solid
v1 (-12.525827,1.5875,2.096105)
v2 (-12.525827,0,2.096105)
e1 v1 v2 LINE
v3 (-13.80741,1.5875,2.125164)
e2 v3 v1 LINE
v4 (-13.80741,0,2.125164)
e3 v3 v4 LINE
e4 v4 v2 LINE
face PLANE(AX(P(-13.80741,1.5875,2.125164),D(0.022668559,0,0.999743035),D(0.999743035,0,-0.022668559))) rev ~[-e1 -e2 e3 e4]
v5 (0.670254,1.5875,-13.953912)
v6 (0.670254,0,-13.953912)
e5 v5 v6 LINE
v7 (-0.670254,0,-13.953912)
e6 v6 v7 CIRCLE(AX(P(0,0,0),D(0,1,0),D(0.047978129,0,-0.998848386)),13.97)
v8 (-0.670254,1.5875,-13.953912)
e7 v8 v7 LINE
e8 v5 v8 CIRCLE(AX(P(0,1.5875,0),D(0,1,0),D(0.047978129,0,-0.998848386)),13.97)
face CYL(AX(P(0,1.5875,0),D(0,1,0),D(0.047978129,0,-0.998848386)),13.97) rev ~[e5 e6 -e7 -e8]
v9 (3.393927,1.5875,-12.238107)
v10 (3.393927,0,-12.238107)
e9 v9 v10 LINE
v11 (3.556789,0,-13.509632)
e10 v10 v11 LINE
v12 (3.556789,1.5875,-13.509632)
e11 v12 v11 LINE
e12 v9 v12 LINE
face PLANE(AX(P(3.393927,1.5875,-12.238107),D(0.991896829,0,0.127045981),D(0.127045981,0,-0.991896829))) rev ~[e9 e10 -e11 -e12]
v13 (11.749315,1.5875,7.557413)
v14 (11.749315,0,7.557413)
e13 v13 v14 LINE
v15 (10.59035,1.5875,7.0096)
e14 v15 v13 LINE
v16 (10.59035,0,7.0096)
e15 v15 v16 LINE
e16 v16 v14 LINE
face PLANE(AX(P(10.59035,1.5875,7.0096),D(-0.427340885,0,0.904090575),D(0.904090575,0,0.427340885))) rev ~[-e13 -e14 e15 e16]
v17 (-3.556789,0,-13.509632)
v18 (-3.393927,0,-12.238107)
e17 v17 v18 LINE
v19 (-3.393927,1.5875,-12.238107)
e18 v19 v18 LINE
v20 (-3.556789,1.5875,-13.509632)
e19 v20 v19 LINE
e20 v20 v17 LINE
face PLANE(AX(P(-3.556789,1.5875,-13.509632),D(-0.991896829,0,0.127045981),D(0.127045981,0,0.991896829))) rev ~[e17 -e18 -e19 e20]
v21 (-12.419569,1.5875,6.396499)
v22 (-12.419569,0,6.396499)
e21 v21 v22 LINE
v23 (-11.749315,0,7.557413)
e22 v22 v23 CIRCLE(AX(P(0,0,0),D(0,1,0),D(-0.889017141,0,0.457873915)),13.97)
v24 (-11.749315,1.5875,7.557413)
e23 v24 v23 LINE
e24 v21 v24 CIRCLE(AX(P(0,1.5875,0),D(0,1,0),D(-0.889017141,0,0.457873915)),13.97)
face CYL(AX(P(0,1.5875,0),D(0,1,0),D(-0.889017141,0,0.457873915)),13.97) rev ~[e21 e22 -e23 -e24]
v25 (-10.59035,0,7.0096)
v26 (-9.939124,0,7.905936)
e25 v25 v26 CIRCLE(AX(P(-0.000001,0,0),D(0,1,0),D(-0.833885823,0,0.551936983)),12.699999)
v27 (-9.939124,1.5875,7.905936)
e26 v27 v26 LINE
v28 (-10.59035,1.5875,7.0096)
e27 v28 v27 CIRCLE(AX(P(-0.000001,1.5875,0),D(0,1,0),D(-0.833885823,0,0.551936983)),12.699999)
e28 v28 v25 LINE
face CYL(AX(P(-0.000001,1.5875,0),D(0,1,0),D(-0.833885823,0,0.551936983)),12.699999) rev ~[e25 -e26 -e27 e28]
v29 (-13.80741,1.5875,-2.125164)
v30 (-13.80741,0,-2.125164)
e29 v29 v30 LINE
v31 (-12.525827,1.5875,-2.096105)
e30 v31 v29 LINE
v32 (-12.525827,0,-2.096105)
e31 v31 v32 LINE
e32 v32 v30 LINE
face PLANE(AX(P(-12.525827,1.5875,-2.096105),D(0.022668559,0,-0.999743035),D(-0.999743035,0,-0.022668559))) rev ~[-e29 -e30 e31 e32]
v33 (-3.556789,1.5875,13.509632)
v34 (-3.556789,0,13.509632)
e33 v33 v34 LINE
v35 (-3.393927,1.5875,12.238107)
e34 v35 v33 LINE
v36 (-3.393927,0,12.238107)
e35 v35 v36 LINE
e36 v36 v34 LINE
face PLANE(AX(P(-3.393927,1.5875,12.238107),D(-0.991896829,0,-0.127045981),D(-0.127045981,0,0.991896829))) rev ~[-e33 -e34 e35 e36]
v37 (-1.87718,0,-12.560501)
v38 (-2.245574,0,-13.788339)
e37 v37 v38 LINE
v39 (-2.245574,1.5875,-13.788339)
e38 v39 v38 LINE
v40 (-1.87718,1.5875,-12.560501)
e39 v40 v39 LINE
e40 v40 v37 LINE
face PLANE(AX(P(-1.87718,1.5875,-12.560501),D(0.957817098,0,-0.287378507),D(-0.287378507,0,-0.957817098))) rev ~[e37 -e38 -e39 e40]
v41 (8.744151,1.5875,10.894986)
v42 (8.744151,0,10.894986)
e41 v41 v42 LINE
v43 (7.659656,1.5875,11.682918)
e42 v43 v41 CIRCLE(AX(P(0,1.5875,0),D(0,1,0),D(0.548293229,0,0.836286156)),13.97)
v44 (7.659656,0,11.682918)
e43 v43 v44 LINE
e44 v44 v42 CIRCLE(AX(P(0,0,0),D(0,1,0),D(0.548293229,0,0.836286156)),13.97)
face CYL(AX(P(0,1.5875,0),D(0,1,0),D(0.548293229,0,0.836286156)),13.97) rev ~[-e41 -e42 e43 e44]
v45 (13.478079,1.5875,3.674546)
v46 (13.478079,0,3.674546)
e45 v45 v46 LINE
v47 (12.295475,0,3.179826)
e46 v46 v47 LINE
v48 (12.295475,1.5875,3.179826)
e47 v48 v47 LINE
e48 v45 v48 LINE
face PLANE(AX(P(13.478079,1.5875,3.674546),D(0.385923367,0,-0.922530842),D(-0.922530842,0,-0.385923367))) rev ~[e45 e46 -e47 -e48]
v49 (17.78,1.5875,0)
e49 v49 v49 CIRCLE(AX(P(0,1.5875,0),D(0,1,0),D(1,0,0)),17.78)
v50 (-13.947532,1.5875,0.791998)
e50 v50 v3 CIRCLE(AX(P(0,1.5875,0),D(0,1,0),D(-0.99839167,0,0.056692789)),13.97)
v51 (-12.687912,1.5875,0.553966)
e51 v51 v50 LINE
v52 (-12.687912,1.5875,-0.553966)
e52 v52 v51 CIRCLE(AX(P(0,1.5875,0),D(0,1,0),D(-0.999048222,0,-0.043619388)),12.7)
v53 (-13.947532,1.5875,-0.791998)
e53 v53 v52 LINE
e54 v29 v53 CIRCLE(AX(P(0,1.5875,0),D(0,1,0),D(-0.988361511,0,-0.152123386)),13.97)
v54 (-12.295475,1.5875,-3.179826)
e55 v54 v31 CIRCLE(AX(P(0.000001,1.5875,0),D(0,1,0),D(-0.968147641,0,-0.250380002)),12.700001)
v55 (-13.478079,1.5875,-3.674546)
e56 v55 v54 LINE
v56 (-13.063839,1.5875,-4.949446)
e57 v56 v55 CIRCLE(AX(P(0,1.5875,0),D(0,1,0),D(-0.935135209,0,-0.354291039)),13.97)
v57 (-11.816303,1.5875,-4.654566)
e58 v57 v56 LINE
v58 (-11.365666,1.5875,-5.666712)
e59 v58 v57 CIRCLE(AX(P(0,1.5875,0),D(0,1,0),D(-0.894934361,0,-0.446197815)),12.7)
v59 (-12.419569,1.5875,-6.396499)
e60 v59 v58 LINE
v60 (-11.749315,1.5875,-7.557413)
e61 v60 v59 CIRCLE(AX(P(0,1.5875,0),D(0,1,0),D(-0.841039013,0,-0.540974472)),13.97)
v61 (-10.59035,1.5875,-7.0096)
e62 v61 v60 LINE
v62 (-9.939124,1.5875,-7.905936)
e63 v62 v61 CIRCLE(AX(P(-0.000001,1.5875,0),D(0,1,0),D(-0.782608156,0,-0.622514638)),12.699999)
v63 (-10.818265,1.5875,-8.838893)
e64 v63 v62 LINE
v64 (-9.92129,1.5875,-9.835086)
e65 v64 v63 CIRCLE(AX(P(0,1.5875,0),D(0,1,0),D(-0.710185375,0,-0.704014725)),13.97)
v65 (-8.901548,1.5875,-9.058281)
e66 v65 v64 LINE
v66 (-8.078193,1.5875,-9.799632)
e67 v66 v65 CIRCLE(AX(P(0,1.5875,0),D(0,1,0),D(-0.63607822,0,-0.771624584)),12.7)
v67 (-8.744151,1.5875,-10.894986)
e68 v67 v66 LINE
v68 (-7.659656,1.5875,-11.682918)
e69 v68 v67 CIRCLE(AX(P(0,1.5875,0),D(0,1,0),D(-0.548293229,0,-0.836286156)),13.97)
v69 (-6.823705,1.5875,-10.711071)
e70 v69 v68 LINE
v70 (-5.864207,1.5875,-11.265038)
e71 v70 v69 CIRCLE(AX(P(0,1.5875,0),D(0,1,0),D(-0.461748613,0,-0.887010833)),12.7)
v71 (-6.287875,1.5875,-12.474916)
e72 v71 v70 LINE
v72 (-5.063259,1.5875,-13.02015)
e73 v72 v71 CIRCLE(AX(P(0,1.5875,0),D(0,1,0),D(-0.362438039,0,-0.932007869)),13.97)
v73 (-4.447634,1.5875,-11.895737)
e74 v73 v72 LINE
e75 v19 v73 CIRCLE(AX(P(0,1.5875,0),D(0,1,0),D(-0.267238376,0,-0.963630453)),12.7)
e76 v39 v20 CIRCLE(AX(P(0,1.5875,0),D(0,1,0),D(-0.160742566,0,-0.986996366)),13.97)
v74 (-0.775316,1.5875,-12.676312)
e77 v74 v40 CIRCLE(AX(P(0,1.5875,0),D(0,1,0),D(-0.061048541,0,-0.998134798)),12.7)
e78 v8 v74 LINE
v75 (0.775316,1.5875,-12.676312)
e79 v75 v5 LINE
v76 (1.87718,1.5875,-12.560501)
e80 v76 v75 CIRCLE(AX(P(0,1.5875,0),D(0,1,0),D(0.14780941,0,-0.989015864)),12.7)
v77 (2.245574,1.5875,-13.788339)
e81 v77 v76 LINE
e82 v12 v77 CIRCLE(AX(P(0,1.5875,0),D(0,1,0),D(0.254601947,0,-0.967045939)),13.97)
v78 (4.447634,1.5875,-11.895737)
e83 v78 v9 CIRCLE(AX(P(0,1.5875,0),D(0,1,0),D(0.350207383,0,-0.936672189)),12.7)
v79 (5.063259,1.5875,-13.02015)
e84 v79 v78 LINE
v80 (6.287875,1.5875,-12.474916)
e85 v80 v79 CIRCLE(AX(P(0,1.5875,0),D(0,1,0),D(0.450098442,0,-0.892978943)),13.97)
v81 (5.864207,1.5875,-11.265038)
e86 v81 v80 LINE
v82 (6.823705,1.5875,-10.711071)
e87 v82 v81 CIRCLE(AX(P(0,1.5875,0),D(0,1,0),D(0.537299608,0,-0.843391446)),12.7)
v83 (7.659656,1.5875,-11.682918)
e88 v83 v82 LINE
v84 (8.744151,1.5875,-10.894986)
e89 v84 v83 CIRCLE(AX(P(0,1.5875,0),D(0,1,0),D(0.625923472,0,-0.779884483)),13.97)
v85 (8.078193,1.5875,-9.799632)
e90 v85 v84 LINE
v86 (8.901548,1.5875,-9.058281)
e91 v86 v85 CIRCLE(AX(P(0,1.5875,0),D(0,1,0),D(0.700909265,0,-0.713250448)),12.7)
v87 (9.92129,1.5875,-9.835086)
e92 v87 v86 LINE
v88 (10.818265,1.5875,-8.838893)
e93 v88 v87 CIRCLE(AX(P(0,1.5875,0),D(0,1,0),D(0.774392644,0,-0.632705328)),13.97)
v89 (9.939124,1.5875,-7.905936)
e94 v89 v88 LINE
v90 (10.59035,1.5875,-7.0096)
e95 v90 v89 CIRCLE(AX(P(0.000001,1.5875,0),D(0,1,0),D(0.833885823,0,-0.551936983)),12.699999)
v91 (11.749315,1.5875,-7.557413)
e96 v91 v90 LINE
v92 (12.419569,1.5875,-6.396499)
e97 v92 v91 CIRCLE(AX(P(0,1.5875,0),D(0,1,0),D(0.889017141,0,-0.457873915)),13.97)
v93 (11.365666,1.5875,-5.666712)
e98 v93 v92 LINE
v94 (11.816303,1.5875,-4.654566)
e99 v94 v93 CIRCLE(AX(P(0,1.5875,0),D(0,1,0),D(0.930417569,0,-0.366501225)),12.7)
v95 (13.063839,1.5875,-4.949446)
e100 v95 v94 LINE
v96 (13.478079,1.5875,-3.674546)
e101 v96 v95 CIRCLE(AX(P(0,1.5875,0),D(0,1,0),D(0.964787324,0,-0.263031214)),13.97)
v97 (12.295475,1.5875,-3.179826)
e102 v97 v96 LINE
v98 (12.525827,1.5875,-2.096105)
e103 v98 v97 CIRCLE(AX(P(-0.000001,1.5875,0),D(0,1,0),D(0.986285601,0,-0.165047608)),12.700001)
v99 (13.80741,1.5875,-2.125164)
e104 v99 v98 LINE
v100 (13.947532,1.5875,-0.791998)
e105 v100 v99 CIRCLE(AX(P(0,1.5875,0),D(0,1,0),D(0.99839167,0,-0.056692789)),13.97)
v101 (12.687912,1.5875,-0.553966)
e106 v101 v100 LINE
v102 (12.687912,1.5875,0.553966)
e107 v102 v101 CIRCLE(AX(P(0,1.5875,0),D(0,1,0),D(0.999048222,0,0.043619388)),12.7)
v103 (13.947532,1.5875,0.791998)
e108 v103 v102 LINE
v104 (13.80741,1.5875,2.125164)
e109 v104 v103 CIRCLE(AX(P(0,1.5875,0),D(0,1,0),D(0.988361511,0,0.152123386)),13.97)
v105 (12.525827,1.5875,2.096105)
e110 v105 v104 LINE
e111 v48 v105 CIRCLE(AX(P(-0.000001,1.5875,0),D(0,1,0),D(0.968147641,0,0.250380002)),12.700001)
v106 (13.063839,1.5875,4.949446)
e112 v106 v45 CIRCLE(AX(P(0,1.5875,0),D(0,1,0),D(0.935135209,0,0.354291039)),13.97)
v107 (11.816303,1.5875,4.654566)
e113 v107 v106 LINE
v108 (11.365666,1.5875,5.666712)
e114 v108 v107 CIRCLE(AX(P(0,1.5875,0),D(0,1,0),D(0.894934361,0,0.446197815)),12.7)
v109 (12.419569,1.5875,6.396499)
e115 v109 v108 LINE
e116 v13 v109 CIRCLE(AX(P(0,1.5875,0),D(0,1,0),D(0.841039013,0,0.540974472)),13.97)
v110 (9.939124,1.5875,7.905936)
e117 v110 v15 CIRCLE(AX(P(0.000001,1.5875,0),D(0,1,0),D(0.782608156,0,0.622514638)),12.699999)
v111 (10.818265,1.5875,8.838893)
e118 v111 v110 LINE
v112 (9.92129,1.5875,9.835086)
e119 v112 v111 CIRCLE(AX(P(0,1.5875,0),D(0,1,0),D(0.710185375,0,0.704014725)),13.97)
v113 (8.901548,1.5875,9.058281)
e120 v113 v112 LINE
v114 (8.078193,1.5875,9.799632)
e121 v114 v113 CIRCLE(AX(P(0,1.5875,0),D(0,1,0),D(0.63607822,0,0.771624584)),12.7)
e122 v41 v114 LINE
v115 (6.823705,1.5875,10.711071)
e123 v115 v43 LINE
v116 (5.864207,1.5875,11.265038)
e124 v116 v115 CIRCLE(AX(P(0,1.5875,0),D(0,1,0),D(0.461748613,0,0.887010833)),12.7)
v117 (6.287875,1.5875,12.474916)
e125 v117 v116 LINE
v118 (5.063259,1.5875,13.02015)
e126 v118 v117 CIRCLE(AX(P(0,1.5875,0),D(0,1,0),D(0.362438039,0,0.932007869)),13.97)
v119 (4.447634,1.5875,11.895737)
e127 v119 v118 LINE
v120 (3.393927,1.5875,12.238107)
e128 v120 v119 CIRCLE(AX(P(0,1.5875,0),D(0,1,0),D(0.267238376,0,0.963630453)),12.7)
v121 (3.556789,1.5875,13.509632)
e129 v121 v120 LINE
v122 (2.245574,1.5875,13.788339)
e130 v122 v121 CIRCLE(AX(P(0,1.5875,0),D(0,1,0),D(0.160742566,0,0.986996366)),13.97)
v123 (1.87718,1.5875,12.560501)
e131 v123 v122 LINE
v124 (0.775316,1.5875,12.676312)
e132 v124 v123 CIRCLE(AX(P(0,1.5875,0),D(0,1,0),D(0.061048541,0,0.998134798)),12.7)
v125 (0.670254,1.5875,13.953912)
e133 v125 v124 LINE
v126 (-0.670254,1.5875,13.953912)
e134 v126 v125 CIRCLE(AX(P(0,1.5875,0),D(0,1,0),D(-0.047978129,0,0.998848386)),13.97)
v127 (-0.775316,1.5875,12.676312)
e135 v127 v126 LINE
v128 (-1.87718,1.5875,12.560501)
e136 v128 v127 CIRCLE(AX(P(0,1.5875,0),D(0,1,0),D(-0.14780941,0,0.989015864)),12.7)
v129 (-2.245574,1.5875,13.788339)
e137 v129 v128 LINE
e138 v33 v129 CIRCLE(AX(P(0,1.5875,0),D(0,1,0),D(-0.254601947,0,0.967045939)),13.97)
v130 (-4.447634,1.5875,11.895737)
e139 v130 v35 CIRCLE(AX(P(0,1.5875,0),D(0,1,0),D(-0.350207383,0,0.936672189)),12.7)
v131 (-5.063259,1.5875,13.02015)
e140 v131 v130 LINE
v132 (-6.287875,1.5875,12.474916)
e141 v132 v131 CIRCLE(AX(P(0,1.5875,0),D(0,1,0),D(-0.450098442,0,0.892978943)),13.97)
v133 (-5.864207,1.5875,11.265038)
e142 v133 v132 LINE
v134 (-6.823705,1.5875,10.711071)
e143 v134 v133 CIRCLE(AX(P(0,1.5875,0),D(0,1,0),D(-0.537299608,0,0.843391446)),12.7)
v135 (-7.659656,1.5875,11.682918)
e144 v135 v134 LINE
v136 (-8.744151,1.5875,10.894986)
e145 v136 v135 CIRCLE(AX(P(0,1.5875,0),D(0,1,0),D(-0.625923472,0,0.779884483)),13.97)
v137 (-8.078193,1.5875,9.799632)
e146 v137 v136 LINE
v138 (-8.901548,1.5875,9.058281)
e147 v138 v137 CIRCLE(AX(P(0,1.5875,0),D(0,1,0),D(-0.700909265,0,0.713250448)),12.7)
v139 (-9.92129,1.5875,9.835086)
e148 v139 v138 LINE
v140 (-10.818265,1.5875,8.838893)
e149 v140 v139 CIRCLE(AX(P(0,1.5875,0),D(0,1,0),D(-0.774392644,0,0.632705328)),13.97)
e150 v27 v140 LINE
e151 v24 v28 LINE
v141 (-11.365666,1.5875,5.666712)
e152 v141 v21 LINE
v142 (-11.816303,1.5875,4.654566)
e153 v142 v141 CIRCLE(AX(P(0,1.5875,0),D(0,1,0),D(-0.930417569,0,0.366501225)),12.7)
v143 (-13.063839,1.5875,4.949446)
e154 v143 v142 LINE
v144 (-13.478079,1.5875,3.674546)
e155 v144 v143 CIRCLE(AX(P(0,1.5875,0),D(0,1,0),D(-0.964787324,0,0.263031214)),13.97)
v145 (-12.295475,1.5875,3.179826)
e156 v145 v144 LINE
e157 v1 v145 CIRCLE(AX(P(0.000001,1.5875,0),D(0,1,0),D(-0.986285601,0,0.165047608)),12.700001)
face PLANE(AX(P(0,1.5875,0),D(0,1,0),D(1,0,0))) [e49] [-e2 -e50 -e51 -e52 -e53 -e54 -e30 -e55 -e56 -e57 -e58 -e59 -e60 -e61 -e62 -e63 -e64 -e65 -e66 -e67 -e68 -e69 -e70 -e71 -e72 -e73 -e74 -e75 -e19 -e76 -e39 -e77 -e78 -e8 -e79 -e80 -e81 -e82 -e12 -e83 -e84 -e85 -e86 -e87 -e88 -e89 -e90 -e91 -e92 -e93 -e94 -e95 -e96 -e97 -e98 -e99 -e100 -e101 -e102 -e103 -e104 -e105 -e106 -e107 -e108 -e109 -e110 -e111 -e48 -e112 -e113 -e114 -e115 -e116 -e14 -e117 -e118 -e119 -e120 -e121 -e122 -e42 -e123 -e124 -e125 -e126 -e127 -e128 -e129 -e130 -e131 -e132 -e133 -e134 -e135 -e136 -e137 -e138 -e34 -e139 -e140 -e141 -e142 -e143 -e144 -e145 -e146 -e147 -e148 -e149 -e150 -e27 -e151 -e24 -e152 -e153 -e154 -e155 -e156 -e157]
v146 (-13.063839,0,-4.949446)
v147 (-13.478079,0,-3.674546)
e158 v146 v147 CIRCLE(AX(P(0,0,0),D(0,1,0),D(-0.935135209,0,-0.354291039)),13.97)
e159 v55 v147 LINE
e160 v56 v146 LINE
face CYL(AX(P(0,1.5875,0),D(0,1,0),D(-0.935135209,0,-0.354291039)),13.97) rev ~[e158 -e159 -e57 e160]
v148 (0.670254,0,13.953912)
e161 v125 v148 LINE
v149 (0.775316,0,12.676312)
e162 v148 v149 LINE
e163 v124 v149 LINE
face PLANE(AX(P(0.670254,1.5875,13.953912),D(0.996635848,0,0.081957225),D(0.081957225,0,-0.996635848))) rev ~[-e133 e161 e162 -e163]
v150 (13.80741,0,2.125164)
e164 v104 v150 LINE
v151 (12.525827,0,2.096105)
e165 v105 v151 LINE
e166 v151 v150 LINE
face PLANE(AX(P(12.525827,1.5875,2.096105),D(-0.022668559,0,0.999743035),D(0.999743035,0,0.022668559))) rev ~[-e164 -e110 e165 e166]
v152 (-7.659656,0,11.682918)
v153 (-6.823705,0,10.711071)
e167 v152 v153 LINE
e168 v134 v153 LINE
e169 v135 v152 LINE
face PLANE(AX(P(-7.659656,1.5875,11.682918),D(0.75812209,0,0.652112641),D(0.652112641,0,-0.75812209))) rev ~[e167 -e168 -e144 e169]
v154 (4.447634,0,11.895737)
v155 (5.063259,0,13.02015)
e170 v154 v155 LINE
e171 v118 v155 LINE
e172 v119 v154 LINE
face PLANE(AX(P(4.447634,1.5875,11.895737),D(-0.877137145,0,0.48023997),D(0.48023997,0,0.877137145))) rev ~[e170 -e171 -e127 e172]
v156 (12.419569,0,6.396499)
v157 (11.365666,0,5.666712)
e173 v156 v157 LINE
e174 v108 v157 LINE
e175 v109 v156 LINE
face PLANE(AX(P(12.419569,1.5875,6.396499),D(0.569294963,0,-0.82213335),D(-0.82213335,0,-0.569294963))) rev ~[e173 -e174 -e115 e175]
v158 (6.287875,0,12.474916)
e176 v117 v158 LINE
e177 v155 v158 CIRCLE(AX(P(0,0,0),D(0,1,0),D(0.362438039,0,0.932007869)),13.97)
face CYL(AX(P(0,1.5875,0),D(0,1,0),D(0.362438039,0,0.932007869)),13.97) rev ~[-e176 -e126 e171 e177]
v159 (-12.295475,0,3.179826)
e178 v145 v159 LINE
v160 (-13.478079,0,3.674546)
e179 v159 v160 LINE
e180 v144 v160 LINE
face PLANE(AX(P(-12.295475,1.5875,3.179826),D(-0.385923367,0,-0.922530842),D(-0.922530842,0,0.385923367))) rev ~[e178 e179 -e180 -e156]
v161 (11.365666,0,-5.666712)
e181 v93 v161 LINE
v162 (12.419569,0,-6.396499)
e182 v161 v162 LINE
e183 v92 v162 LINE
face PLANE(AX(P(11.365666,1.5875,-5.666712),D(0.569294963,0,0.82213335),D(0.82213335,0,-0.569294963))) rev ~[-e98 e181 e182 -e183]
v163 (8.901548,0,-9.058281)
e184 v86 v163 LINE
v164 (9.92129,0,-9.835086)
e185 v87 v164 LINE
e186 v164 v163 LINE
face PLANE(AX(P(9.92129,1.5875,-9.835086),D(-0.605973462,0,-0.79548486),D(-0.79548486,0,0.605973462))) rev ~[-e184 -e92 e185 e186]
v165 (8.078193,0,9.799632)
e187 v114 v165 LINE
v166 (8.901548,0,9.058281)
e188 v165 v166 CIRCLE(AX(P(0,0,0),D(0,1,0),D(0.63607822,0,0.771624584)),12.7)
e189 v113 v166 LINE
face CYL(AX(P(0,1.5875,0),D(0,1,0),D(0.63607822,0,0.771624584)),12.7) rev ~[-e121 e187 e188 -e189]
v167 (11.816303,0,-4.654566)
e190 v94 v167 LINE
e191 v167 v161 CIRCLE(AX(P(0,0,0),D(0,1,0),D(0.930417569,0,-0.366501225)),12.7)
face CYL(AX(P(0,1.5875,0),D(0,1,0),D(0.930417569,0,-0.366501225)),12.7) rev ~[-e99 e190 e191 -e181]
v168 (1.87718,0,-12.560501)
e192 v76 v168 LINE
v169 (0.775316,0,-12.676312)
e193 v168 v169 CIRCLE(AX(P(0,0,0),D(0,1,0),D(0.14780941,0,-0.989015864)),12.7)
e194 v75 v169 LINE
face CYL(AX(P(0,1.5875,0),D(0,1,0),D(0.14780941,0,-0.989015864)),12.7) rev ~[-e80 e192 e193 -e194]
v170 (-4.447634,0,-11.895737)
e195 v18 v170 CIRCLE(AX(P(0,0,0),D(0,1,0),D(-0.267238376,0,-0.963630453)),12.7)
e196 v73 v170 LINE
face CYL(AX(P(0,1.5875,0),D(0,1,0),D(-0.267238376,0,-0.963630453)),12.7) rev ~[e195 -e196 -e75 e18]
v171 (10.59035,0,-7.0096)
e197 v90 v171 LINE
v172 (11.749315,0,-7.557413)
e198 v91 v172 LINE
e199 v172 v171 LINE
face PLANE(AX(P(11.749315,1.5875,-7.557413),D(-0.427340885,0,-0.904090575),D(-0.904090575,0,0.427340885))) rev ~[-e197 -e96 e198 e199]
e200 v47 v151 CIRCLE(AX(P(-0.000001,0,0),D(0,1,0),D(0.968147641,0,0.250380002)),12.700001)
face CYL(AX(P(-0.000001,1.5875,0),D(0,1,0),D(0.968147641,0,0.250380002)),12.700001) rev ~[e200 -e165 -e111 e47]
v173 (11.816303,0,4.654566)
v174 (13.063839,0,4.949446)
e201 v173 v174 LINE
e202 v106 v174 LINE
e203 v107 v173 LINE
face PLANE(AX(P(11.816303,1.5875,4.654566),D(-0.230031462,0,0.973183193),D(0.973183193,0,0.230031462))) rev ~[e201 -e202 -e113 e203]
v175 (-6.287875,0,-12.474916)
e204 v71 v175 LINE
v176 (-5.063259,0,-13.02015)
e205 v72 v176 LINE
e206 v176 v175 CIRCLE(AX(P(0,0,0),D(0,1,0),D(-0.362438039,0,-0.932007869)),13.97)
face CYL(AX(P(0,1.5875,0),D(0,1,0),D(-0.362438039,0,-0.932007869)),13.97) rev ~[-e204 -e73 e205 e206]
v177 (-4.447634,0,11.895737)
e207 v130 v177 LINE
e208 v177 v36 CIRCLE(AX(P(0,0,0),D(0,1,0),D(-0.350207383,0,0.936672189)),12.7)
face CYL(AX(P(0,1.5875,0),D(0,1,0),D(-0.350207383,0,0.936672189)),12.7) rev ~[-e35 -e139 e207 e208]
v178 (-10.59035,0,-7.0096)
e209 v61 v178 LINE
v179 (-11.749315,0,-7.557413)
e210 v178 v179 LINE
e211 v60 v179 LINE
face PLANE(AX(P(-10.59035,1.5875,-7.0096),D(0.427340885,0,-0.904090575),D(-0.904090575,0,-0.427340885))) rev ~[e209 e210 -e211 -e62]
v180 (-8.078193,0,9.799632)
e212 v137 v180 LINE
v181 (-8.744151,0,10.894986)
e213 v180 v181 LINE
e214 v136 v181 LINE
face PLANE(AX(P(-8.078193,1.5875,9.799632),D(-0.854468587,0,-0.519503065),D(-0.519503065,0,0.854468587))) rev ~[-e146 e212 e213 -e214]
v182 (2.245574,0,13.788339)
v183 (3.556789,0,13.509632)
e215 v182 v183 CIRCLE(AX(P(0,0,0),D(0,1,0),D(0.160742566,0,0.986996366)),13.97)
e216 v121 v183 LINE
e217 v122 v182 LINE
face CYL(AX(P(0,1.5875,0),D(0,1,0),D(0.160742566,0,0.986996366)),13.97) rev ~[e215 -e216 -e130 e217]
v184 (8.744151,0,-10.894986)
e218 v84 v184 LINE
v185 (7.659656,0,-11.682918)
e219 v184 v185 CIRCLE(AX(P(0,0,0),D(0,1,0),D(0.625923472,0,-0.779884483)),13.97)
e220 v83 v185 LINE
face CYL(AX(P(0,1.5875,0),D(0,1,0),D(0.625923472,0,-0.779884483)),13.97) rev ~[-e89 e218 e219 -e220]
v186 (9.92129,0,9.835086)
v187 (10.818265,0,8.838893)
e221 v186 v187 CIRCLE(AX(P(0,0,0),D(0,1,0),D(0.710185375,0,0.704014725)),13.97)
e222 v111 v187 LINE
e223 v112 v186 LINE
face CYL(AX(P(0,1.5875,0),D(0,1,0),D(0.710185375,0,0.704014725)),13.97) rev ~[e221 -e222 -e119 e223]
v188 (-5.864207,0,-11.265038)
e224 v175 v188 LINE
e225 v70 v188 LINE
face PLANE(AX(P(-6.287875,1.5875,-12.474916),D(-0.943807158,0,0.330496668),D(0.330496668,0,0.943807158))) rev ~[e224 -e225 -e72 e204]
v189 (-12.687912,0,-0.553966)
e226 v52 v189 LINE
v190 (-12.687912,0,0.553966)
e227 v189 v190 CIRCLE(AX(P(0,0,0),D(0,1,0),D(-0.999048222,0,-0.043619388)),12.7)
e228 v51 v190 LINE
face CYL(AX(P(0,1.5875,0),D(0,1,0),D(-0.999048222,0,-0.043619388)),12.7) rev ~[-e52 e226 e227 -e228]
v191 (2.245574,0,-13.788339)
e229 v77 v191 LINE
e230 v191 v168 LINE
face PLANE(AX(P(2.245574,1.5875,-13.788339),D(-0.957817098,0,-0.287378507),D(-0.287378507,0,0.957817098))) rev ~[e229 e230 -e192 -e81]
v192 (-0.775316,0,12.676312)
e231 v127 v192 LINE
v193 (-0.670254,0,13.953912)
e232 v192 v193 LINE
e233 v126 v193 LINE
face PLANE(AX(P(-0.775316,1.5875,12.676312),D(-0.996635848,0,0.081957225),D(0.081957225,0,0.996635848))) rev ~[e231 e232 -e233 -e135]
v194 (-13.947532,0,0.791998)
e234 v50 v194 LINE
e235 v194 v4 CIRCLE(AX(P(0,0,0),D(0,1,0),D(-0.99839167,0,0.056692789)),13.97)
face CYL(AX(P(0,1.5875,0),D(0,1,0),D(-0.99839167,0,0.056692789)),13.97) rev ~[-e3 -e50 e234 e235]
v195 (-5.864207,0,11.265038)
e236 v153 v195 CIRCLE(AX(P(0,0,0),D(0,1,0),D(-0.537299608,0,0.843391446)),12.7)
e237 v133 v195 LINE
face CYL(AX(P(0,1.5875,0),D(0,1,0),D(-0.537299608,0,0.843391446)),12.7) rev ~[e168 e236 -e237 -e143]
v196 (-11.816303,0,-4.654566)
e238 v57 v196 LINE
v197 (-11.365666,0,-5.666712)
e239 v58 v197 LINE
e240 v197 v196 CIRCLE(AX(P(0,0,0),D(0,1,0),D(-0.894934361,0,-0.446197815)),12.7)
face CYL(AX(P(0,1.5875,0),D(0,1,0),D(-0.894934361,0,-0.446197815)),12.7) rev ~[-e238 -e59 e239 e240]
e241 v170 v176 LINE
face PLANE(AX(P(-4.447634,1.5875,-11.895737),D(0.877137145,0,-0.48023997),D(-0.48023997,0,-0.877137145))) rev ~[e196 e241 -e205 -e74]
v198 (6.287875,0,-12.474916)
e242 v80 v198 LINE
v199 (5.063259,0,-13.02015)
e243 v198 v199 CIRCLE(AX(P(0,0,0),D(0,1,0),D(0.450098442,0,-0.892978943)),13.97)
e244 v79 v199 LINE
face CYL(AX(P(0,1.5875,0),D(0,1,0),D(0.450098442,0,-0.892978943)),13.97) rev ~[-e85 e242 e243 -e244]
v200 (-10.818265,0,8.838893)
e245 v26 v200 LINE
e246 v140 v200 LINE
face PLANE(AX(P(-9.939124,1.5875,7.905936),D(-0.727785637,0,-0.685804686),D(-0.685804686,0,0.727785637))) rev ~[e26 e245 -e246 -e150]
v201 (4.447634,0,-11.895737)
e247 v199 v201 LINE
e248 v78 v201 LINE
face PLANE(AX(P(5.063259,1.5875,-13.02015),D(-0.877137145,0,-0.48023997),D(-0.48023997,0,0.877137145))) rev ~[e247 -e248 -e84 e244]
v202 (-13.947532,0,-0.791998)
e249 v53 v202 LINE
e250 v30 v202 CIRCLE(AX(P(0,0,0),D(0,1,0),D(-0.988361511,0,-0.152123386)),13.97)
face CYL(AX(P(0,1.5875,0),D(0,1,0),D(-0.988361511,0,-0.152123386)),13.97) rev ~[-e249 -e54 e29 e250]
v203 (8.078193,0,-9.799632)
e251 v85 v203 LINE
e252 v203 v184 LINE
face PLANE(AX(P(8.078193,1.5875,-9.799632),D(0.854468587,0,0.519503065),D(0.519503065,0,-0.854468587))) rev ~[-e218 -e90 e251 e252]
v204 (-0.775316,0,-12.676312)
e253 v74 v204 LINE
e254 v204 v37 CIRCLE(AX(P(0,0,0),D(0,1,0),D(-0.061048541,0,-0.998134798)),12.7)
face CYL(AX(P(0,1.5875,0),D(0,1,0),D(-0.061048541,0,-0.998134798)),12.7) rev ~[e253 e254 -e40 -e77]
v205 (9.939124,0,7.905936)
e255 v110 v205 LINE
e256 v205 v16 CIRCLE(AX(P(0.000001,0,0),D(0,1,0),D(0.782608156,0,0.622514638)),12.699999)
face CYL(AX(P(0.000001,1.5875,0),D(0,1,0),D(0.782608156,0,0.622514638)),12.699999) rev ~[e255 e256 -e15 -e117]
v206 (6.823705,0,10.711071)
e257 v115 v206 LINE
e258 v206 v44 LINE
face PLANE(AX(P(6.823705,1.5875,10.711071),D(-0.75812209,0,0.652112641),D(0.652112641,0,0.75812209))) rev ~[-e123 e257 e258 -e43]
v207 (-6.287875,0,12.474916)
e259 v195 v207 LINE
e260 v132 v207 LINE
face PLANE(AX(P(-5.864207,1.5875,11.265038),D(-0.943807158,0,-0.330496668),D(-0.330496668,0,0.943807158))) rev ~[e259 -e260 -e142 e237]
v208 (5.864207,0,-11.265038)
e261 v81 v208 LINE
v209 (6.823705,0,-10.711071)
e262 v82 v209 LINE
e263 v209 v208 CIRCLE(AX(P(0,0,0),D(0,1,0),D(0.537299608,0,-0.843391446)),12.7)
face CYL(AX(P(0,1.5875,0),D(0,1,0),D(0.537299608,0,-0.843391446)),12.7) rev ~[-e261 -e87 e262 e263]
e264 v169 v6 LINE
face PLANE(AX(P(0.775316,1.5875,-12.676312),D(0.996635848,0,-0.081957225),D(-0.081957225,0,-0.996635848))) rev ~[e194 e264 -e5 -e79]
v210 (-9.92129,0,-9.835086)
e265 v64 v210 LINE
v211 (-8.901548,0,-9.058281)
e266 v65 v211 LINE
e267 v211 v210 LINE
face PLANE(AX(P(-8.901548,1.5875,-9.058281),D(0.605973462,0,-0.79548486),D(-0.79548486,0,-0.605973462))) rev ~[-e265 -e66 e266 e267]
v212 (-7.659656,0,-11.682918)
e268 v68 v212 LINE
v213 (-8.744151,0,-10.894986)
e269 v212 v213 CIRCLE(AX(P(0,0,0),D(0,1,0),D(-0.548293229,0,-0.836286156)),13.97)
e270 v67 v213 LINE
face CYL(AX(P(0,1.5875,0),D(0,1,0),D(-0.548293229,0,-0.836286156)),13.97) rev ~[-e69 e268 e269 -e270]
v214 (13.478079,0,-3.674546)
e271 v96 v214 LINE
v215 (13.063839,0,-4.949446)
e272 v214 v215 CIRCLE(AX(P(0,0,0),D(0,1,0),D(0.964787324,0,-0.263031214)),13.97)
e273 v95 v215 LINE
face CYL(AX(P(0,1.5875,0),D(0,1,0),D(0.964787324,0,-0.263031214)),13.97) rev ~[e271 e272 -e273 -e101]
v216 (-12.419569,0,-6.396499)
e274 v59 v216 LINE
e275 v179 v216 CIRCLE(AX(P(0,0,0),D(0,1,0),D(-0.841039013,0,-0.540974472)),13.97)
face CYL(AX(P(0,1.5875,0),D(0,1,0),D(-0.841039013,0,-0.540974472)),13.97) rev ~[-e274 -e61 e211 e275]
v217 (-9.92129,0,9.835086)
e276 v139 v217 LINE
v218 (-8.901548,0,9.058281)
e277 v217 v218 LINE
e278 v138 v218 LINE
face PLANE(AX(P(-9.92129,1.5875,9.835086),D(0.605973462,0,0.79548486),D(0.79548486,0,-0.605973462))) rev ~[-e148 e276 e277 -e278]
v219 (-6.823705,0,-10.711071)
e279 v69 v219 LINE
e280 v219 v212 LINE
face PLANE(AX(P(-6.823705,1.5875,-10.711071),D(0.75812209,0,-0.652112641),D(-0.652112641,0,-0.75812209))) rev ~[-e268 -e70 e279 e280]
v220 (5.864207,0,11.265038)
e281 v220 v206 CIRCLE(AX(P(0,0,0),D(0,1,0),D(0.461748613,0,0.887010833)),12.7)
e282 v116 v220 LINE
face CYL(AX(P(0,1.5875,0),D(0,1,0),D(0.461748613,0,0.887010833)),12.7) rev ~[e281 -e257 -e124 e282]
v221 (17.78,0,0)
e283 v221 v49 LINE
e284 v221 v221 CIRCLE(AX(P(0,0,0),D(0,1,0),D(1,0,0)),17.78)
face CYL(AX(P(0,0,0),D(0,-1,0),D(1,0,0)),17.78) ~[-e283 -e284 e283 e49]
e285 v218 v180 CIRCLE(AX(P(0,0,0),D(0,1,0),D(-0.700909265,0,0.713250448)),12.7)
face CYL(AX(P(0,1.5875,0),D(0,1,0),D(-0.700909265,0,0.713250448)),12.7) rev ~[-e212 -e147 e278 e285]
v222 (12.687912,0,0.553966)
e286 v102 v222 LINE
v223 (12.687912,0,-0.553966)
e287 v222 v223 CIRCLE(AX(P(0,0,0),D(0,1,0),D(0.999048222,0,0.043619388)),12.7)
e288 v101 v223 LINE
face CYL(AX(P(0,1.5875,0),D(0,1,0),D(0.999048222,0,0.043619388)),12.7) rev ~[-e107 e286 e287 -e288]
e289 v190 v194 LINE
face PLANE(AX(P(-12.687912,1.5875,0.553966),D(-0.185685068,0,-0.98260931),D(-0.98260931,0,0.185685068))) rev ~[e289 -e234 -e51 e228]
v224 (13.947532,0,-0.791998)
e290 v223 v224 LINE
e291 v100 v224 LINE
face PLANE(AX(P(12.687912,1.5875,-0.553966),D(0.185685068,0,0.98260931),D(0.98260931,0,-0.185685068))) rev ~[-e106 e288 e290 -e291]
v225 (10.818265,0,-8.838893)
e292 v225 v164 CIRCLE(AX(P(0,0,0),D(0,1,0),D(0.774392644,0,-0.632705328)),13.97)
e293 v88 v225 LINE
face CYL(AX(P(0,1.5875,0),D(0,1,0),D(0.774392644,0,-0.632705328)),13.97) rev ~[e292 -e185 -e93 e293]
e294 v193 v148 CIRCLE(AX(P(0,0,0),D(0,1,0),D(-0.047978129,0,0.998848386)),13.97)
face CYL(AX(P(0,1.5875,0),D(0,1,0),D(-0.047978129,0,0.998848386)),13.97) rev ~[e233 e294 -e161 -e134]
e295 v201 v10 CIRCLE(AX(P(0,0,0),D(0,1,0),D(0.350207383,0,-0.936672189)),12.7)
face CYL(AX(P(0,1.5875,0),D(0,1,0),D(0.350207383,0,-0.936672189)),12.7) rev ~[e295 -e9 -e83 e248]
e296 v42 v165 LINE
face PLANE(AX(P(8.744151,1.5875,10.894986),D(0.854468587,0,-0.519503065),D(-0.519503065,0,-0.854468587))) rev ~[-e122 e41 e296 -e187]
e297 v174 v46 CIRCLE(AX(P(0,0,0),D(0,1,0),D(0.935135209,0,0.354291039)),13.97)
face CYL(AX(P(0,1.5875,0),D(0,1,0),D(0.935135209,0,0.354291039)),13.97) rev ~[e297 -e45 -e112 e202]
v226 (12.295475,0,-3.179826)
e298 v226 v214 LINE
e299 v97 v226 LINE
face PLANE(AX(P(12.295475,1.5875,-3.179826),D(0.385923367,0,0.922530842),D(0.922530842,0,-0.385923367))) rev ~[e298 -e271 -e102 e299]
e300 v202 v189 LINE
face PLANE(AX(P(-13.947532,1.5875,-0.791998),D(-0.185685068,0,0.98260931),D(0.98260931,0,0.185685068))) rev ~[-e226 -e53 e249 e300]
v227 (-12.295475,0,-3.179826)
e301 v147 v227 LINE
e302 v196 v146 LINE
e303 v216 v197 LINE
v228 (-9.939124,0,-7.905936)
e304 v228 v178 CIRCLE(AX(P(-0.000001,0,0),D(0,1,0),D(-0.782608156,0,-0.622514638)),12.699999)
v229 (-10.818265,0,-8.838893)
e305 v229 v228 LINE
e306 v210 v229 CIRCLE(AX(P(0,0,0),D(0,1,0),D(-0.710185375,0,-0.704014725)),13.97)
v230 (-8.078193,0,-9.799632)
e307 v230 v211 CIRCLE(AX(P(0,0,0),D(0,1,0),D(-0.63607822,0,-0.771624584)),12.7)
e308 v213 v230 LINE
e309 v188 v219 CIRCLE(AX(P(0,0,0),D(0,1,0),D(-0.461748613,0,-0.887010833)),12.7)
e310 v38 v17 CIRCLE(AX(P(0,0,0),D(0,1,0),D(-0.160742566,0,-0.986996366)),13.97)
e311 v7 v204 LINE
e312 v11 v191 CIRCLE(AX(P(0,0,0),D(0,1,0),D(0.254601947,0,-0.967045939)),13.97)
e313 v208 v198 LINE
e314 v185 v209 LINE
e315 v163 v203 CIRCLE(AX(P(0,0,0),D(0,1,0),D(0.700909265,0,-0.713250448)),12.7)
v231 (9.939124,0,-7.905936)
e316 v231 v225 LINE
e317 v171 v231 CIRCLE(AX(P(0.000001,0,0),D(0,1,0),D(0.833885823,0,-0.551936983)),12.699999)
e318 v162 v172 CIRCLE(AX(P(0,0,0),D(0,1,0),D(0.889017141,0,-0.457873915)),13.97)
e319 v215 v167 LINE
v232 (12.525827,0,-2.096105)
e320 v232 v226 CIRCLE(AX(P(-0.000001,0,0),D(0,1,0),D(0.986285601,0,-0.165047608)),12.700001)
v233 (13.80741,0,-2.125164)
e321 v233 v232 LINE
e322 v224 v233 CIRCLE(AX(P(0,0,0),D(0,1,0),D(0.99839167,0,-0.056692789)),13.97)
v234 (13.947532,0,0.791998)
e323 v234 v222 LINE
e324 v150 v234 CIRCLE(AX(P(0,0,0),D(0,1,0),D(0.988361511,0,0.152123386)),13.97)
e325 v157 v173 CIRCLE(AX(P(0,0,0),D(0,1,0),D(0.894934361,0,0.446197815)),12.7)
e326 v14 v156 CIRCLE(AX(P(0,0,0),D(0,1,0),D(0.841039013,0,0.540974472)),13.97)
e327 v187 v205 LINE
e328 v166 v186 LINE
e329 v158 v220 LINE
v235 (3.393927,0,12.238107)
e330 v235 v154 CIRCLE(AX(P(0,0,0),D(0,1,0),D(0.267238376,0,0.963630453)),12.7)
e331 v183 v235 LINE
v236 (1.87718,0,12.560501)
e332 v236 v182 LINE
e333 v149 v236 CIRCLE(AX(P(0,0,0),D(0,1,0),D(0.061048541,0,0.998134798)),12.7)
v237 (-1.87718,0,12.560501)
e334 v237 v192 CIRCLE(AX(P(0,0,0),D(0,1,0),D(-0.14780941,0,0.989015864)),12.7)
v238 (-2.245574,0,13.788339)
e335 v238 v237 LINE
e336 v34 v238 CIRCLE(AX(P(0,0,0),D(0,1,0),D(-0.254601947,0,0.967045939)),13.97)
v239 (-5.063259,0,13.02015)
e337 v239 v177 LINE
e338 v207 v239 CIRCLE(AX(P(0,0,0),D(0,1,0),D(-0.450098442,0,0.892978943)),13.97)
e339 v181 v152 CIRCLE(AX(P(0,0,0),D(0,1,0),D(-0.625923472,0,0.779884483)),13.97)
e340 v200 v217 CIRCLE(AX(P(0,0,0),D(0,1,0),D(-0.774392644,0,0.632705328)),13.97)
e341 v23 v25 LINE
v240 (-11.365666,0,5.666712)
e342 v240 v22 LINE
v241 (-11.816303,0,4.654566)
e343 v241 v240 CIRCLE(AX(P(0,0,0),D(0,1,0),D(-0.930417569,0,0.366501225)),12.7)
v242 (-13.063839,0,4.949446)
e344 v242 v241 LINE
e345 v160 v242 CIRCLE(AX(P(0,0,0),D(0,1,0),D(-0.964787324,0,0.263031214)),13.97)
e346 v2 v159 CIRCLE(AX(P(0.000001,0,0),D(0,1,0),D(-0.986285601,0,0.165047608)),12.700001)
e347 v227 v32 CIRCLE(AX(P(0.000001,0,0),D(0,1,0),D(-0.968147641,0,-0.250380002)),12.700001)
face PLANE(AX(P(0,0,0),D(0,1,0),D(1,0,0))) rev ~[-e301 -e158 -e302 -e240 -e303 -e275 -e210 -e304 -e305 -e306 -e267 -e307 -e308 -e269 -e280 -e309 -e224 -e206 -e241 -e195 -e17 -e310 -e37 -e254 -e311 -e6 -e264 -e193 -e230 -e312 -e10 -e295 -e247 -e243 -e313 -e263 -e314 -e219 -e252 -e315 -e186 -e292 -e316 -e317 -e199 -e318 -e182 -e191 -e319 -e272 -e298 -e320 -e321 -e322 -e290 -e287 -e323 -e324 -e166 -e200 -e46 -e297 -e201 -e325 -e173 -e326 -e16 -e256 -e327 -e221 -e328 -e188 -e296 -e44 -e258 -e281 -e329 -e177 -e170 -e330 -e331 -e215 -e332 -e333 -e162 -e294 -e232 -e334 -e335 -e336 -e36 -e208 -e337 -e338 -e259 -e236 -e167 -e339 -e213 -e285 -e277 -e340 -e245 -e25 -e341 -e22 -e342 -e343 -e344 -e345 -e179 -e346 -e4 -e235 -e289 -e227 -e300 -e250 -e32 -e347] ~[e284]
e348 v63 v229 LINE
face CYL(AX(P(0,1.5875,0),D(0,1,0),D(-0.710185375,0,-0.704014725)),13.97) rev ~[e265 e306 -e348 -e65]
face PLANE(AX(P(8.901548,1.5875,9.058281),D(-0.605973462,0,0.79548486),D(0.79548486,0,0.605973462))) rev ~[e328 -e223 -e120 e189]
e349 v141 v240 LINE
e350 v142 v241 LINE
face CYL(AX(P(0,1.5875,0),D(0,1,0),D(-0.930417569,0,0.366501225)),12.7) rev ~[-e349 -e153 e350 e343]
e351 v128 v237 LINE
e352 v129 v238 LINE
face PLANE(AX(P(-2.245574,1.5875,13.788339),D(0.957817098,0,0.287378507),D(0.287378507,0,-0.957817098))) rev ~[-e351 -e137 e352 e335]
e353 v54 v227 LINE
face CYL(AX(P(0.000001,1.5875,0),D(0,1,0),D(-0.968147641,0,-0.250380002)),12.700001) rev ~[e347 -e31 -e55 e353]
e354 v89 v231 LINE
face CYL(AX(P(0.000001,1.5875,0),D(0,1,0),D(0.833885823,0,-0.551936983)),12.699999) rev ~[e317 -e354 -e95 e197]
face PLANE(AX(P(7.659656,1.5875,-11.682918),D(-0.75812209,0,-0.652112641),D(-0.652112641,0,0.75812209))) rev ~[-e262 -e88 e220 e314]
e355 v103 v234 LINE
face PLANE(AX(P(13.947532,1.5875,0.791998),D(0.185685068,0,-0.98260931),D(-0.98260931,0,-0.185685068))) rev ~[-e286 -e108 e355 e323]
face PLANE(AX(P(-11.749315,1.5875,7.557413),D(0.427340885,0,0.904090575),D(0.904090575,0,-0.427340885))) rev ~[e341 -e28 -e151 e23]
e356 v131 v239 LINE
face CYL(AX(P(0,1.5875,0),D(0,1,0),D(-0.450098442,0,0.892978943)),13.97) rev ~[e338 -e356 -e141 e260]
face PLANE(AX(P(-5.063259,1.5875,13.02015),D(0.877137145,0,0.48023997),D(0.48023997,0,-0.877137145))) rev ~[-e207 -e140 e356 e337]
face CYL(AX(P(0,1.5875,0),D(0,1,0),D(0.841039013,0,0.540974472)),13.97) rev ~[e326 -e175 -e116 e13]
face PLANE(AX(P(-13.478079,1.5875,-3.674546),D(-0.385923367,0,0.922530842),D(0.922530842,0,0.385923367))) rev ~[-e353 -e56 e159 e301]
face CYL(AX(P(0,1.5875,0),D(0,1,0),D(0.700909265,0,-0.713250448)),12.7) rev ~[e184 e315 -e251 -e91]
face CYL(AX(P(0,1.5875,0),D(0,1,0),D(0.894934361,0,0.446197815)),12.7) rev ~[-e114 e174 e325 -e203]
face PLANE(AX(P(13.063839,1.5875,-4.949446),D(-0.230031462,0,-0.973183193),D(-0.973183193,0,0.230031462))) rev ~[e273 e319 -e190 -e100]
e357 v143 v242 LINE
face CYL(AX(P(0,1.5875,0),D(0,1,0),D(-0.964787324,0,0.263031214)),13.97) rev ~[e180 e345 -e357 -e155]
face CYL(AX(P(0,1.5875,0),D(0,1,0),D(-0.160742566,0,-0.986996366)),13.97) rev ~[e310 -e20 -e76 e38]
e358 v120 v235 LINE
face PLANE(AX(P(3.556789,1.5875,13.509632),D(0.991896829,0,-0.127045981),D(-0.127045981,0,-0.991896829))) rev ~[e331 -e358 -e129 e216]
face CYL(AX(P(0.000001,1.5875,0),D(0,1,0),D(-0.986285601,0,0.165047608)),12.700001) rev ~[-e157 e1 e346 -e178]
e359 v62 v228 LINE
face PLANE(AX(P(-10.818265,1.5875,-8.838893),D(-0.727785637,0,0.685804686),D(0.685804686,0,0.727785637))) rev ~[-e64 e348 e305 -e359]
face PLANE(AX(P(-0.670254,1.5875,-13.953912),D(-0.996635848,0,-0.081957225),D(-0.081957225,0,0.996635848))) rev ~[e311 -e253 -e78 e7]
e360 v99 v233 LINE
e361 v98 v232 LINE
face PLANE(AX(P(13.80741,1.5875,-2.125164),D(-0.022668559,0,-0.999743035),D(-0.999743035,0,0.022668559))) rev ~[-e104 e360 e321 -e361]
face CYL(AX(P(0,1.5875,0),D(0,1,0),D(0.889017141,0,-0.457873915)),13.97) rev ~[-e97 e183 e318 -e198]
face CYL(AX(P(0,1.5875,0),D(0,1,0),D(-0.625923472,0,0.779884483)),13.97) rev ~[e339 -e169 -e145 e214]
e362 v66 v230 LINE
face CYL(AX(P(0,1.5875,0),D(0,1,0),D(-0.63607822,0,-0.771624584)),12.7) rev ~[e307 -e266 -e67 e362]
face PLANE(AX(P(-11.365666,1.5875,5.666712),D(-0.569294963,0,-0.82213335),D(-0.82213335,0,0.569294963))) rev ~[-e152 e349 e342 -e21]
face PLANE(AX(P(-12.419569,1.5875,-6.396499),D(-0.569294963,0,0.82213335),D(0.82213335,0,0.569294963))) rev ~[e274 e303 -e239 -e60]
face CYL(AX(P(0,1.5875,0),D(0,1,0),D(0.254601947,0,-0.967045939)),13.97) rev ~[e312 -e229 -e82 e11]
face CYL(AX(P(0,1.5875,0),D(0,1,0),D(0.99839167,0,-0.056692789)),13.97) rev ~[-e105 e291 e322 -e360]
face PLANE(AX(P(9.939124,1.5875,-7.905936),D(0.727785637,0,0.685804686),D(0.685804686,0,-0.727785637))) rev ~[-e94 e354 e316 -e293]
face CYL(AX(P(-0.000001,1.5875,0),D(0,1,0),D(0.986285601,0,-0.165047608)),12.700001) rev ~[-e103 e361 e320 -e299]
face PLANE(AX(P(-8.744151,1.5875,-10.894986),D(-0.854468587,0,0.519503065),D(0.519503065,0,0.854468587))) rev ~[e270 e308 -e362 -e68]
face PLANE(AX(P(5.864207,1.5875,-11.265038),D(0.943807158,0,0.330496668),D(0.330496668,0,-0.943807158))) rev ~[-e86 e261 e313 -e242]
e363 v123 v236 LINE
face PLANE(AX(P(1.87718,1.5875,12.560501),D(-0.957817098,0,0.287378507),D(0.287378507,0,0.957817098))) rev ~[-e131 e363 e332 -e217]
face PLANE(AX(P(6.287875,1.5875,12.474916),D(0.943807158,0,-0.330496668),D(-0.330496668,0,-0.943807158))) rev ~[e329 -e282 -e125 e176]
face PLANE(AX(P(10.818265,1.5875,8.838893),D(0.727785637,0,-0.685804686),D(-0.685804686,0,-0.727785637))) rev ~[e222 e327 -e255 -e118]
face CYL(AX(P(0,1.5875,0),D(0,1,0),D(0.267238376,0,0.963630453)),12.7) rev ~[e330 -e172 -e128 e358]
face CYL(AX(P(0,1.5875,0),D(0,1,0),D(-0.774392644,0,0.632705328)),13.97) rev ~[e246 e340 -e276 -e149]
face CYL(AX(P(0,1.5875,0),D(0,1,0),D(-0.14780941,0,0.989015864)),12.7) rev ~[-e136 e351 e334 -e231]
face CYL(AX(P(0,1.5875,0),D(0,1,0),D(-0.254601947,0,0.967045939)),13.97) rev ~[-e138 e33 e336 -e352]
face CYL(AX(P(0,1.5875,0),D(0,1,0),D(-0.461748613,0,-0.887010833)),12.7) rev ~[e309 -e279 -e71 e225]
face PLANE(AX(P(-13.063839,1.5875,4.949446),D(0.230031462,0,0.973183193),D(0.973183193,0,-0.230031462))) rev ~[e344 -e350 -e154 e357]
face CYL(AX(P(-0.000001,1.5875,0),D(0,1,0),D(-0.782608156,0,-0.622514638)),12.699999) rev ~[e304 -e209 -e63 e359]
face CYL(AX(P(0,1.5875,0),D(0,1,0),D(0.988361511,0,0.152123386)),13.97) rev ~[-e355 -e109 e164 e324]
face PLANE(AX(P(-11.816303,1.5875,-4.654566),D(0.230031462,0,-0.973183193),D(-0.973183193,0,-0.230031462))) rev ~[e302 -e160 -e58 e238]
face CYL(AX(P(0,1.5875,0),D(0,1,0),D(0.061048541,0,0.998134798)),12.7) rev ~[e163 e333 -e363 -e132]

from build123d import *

# Parameters (mm, degrees)
SKETCH1_R           = 17.78
BOSS_EXTRUDE1_DEPTH = 1.5875
CUT_EXTRUDE1_DEPTH  = 2.5875


with BuildPart() as part:
    # Sketch1 → Boss-Extrude1 (new body)
    with BuildSketch(Plane(origin=(0, 0, 0), x_dir=(1, 0, 0), z_dir=(0, 1, 0))):
        Circle(SKETCH1_R)
    extrude(amount=BOSS_EXTRUDE1_DEPTH)

    # Sketch2 → Cut-Extrude1 (cut, through all)
    with BuildSketch(Plane(origin=(0, 1.5875, 0), x_dir=(1, 0, 0), z_dir=(0, 1, 0))):
        with BuildLine():
            Line((-0.670254455, 13.953911959), (-0.775316452, 12.67631194))
            ThreePointArc((-0.775316452, 12.67631194), (-1.327511483, 12.630428071), (-1.877179521, 12.560501465))
            Line((-1.877179521, 12.560501465), (-2.245573641, 13.788339241))
            ThreePointArc((-2.245573641, 13.788339241), (-2.904526321, 13.664721982), (-3.556789216, 13.509631767))
            Line((-3.556789216, 13.509631767), (-3.393927376, 12.238106756))
            ThreePointArc((-3.393927376, 12.238106756), (-3.924515829, 12.078417757), (-4.447633742, 11.895736803))
            Line((-4.447633742, 11.895736803), (-5.063259395, 13.020149934))
            ThreePointArc((-5.063259395, 13.020149934), (-5.682110904, 12.762230043), (-6.287875221, 12.474915839))
            Line((-6.287875221, 12.474915839), (-5.864207388, 11.265037581))
            ThreePointArc((-5.864207388, 11.265037581), (-6.35, 10.998522628), (-6.823705026, 10.711071362))
            Line((-6.823705026, 10.711071362), (-7.659656416, 11.682917597))
            ThreePointArc((-7.659656416, 11.682917597), (-8.211359975, 11.301967411), (-8.744150906, 10.894986229))
            Line((-8.744150906, 10.894986229), (-8.078193398, 9.799632209))
            ThreePointArc((-8.078193398, 9.799632209), (-8.497958701, 9.437939284), (-8.901547657, 9.058280704))
            Line((-8.901547657, 9.058280704), (-9.921289697, 9.835085701))
            ThreePointArc((-9.921289697, 9.835085701), (-10.381733212, 9.347754571), (-10.818265238, 8.83889344))
            Line((-10.818265238, 8.83889344), (-9.939123592, 7.905935885))
            ThreePointArc((-9.939123592, 7.905935885), (-10.274515829, 7.464872704), (-10.59034994, 7.009599713))
            Line((-10.59034994, 7.009599713), (-11.749315011, 7.557413365))
            ThreePointArc((-11.749315011, 7.557413365), (-12.098374891, 6.985), (-12.419569467, 6.396498594))
            Line((-12.419569467, 6.396498594), (-11.365666392, 5.666712226))
            ThreePointArc((-11.365666392, 5.666712226), (-11.602027312, 5.165555367), (-11.816303113, 4.654565579))
            Line((-11.816303113, 4.654565579), (-13.063838879, 4.949445801))
            ThreePointArc((-13.063838879, 4.949445801), (-13.286259533, 4.316967411), (-13.478078914, 3.674546066))
            Line((-13.478078914, 3.674546066), (-12.295475033, 3.179826051))
            ThreePointArc((-12.295475033, 3.179826051), (-12.422474529, 2.640478473), (-12.52582714, 2.096104594))
            Line((-12.52582714, 2.096104594), (-13.807410301, 2.125163705))
            ThreePointArc((-13.807410301, 2.125163705), (-13.893470878, 1.460262632), (-13.947531638, 0.791998242))
            Line((-13.947531638, 0.791998242), (-12.687912414, 0.55396622))
            ThreePointArc((-12.687912414, 0.55396622), (-12.7, 0), (-12.687912414, -0.55396622))
            Line((-12.687912414, -0.55396622), (-13.947531638, -0.791998242))
            ThreePointArc((-13.947531638, -0.791998242), (-13.893470878, -1.460262632), (-13.807410301, -2.125163705))
            Line((-13.807410301, -2.125163705), (-12.52582714, -2.096104594))
            ThreePointArc((-12.52582714, -2.096104594), (-12.422474529, -2.640478473), (-12.295475033, -3.179826051))
            Line((-12.295475033, -3.179826051), (-13.478078914, -3.674546066))
            ThreePointArc((-13.478078914, -3.674546066), (-13.286259533, -4.316967411), (-13.063838879, -4.949445801))
            Line((-13.063838879, -4.949445801), (-11.816303113, -4.654565579))
            ThreePointArc((-11.816303113, -4.654565579), (-11.602027312, -5.165555367), (-11.365666392, -5.666712226))
            Line((-11.365666392, -5.666712226), (-12.419569467, -6.396498594))
            ThreePointArc((-12.419569467, -6.396498594), (-12.098374891, -6.985), (-11.749315011, -7.557413365))
            Line((-11.749315011, -7.557413365), (-10.59034994, -7.009599713))
            ThreePointArc((-10.59034994, -7.009599713), (-10.274515829, -7.464872704), (-9.939123592, -7.905935885))
            Line((-9.939123592, -7.905935885), (-10.818265238, -8.83889344))
            ThreePointArc((-10.818265238, -8.83889344), (-10.381733212, -9.347754571), (-9.921289697, -9.835085701))
            Line((-9.921289697, -9.835085701), (-8.901547657, -9.058280704))
            ThreePointArc((-8.901547657, -9.058280704), (-8.497958701, -9.437939284), (-8.078193398, -9.799632209))
            Line((-8.078193398, -9.799632209), (-8.744150906, -10.894986229))
            ThreePointArc((-8.744150906, -10.894986229), (-8.211359975, -11.301967411), (-7.659656416, -11.682917597))
            Line((-7.659656416, -11.682917597), (-6.823705026, -10.711071362))
            ThreePointArc((-6.823705026, -10.711071362), (-6.35, -10.998522628), (-5.864207388, -11.265037581))
            Line((-5.864207388, -11.265037581), (-6.287875221, -12.474915839))
            ThreePointArc((-6.287875221, -12.474915839), (-5.682110904, -12.762230043), (-5.063259395, -13.020149934))
            Line((-5.063259395, -13.020149934), (-4.447633742, -11.895736803))
            ThreePointArc((-4.447633742, -11.895736803), (-3.924515829, -12.078417757), (-3.393927376, -12.238106756))
            Line((-3.393927376, -12.238106756), (-3.556789216, -13.509631767))
            ThreePointArc((-3.556789216, -13.509631767), (-2.904526321, -13.664721982), (-2.245573641, -13.788339241))
            Line((-2.245573641, -13.788339241), (-1.877179521, -12.560501465))
            ThreePointArc((-1.877179521, -12.560501465), (-1.327511483, -12.630428071), (-0.775316452, -12.67631194))
            Line((-0.775316452, -12.67631194), (-0.670254455, -13.953911959))
            ThreePointArc((-0.670254455, -13.953911959), (0, -13.97), (0.670254455, -13.953911959))
            Line((0.670254455, -13.953911959), (0.775316452, -12.67631194))
            ThreePointArc((0.775316452, -12.67631194), (1.327511483, -12.630428071), (1.877179521, -12.560501465))
            Line((1.877179521, -12.560501465), (2.245573641, -13.788339241))
            ThreePointArc((2.245573641, -13.788339241), (2.904526321, -13.664721982), (3.556789216, -13.509631767))
            Line((3.556789216, -13.509631767), (3.393927376, -12.238106756))
            ThreePointArc((3.393927376, -12.238106756), (3.924515829, -12.078417757), (4.447633742, -11.895736803))
            Line((4.447633742, -11.895736803), (5.063259395, -13.020149934))
            ThreePointArc((5.063259395, -13.020149934), (5.682110904, -12.762230043), (6.287875221, -12.474915839))
            Line((6.287875221, -12.474915839), (5.864207388, -11.265037581))
            ThreePointArc((5.864207388, -11.265037581), (6.35, -10.998522628), (6.823705026, -10.711071362))
            Line((6.823705026, -10.711071362), (7.659656416, -11.682917597))
            ThreePointArc((7.659656416, -11.682917597), (8.211359975, -11.301967411), (8.744150906, -10.894986229))
            Line((8.744150906, -10.894986229), (8.078193398, -9.799632209))
            ThreePointArc((8.078193398, -9.799632209), (8.497958701, -9.437939284), (8.901547657, -9.058280704))
            Line((8.901547657, -9.058280704), (9.921289697, -9.835085701))
            ThreePointArc((9.921289697, -9.835085701), (10.381733212, -9.347754571), (10.818265238, -8.83889344))
            Line((10.818265238, -8.83889344), (9.939123592, -7.905935885))
            ThreePointArc((9.939123592, -7.905935885), (10.274515829, -7.464872704), (10.59034994, -7.009599713))
            Line((10.59034994, -7.009599713), (11.749315011, -7.557413365))
            ThreePointArc((11.749315011, -7.557413365), (12.098374891, -6.985), (12.419569467, -6.396498594))
            Line((12.419569467, -6.396498594), (11.365666392, -5.666712226))
            ThreePointArc((11.365666392, -5.666712226), (11.602027312, -5.165555367), (11.816303113, -4.654565579))
            Line((11.816303113, -4.654565579), (13.063838879, -4.949445801))
            ThreePointArc((13.063838879, -4.949445801), (13.286259533, -4.316967411), (13.478078914, -3.674546066))
            Line((13.478078914, -3.674546066), (12.295475033, -3.179826051))
            ThreePointArc((12.295475033, -3.179826051), (12.422474529, -2.640478473), (12.52582714, -2.096104594))
            Line((12.52582714, -2.096104594), (13.807410301, -2.125163705))
            ThreePointArc((13.807410301, -2.125163705), (13.893470878, -1.460262632), (13.947531638, -0.791998242))
            Line((13.947531638, -0.791998242), (12.687912414, -0.55396622))
            ThreePointArc((12.687912414, -0.55396622), (12.7, 0), (12.687912414, 0.55396622))
            Line((12.687912414, 0.55396622), (13.947531638, 0.791998242))
            ThreePointArc((13.947531638, 0.791998242), (13.893470878, 1.460262632), (13.807410301, 2.125163705))
            Line((13.807410301, 2.125163705), (12.52582714, 2.096104594))
            ThreePointArc((12.52582714, 2.096104594), (12.422474529, 2.640478473), (12.295475033, 3.179826051))
            Line((12.295475033, 3.179826051), (13.478078914, 3.674546066))
            ThreePointArc((13.478078914, 3.674546066), (13.286259533, 4.316967411), (13.063838879, 4.949445801))
            Line((13.063838879, 4.949445801), (11.816303113, 4.654565579))
            ThreePointArc((11.816303113, 4.654565579), (11.602027312, 5.165555367), (11.365666392, 5.666712226))
            Line((11.365666392, 5.666712226), (12.419569467, 6.396498594))
            ThreePointArc((12.419569467, 6.396498594), (12.098374891, 6.985), (11.749315011, 7.557413365))
            Line((11.749315011, 7.557413365), (10.59034994, 7.009599713))
            ThreePointArc((10.59034994, 7.009599713), (10.274515829, 7.464872704), (9.939123592, 7.905935885))
            Line((9.939123592, 7.905935885), (10.818265238, 8.83889344))
            ThreePointArc((10.818265238, 8.83889344), (10.381733212, 9.347754571), (9.921289697, 9.835085701))
            Line((9.921289697, 9.835085701), (8.901547657, 9.058280704))
            ThreePointArc((8.901547657, 9.058280704), (8.497958701, 9.437939284), (8.078193398, 9.799632209))
            Line((8.078193398, 9.799632209), (8.744150906, 10.894986229))
            ThreePointArc((8.744150906, 10.894986229), (8.211359975, 11.301967411), (7.659656416, 11.682917597))
            Line((7.659656416, 11.682917597), (6.823705026, 10.711071362))
            ThreePointArc((6.823705026, 10.711071362), (6.35, 10.998522628), (5.864207388, 11.265037581))
            Line((5.864207388, 11.265037581), (6.287875221, 12.474915839))
            ThreePointArc((6.287875221, 12.474915839), (5.682110904, 12.762230043), (5.063259395, 13.020149934))
            Line((5.063259395, 13.020149934), (4.447633742, 11.895736803))
            ThreePointArc((4.447633742, 11.895736803), (3.924515829, 12.078417757), (3.393927376, 12.238106756))
            Line((3.393927376, 12.238106756), (3.556789216, 13.509631767))
            ThreePointArc((3.556789216, 13.509631767), (2.904526321, 13.664721982), (2.245573641, 13.788339241))
            Line((2.245573641, 13.788339241), (1.877179521, 12.560501465))
            ThreePointArc((1.877179521, 12.560501465), (1.327511483, 12.630428071), (0.775316452, 12.67631194))
            Line((0.775316452, 12.67631194), (0.670254455, 13.953911959))
            ThreePointArc((0.670254455, 13.953911959), (0, 13.97), (-0.670254455, 13.953911959))
        make_face()
    extrude(amount=-CUT_EXTRUDE1_DEPTH, mode=Mode.SUBTRACT)


solid = part.part
